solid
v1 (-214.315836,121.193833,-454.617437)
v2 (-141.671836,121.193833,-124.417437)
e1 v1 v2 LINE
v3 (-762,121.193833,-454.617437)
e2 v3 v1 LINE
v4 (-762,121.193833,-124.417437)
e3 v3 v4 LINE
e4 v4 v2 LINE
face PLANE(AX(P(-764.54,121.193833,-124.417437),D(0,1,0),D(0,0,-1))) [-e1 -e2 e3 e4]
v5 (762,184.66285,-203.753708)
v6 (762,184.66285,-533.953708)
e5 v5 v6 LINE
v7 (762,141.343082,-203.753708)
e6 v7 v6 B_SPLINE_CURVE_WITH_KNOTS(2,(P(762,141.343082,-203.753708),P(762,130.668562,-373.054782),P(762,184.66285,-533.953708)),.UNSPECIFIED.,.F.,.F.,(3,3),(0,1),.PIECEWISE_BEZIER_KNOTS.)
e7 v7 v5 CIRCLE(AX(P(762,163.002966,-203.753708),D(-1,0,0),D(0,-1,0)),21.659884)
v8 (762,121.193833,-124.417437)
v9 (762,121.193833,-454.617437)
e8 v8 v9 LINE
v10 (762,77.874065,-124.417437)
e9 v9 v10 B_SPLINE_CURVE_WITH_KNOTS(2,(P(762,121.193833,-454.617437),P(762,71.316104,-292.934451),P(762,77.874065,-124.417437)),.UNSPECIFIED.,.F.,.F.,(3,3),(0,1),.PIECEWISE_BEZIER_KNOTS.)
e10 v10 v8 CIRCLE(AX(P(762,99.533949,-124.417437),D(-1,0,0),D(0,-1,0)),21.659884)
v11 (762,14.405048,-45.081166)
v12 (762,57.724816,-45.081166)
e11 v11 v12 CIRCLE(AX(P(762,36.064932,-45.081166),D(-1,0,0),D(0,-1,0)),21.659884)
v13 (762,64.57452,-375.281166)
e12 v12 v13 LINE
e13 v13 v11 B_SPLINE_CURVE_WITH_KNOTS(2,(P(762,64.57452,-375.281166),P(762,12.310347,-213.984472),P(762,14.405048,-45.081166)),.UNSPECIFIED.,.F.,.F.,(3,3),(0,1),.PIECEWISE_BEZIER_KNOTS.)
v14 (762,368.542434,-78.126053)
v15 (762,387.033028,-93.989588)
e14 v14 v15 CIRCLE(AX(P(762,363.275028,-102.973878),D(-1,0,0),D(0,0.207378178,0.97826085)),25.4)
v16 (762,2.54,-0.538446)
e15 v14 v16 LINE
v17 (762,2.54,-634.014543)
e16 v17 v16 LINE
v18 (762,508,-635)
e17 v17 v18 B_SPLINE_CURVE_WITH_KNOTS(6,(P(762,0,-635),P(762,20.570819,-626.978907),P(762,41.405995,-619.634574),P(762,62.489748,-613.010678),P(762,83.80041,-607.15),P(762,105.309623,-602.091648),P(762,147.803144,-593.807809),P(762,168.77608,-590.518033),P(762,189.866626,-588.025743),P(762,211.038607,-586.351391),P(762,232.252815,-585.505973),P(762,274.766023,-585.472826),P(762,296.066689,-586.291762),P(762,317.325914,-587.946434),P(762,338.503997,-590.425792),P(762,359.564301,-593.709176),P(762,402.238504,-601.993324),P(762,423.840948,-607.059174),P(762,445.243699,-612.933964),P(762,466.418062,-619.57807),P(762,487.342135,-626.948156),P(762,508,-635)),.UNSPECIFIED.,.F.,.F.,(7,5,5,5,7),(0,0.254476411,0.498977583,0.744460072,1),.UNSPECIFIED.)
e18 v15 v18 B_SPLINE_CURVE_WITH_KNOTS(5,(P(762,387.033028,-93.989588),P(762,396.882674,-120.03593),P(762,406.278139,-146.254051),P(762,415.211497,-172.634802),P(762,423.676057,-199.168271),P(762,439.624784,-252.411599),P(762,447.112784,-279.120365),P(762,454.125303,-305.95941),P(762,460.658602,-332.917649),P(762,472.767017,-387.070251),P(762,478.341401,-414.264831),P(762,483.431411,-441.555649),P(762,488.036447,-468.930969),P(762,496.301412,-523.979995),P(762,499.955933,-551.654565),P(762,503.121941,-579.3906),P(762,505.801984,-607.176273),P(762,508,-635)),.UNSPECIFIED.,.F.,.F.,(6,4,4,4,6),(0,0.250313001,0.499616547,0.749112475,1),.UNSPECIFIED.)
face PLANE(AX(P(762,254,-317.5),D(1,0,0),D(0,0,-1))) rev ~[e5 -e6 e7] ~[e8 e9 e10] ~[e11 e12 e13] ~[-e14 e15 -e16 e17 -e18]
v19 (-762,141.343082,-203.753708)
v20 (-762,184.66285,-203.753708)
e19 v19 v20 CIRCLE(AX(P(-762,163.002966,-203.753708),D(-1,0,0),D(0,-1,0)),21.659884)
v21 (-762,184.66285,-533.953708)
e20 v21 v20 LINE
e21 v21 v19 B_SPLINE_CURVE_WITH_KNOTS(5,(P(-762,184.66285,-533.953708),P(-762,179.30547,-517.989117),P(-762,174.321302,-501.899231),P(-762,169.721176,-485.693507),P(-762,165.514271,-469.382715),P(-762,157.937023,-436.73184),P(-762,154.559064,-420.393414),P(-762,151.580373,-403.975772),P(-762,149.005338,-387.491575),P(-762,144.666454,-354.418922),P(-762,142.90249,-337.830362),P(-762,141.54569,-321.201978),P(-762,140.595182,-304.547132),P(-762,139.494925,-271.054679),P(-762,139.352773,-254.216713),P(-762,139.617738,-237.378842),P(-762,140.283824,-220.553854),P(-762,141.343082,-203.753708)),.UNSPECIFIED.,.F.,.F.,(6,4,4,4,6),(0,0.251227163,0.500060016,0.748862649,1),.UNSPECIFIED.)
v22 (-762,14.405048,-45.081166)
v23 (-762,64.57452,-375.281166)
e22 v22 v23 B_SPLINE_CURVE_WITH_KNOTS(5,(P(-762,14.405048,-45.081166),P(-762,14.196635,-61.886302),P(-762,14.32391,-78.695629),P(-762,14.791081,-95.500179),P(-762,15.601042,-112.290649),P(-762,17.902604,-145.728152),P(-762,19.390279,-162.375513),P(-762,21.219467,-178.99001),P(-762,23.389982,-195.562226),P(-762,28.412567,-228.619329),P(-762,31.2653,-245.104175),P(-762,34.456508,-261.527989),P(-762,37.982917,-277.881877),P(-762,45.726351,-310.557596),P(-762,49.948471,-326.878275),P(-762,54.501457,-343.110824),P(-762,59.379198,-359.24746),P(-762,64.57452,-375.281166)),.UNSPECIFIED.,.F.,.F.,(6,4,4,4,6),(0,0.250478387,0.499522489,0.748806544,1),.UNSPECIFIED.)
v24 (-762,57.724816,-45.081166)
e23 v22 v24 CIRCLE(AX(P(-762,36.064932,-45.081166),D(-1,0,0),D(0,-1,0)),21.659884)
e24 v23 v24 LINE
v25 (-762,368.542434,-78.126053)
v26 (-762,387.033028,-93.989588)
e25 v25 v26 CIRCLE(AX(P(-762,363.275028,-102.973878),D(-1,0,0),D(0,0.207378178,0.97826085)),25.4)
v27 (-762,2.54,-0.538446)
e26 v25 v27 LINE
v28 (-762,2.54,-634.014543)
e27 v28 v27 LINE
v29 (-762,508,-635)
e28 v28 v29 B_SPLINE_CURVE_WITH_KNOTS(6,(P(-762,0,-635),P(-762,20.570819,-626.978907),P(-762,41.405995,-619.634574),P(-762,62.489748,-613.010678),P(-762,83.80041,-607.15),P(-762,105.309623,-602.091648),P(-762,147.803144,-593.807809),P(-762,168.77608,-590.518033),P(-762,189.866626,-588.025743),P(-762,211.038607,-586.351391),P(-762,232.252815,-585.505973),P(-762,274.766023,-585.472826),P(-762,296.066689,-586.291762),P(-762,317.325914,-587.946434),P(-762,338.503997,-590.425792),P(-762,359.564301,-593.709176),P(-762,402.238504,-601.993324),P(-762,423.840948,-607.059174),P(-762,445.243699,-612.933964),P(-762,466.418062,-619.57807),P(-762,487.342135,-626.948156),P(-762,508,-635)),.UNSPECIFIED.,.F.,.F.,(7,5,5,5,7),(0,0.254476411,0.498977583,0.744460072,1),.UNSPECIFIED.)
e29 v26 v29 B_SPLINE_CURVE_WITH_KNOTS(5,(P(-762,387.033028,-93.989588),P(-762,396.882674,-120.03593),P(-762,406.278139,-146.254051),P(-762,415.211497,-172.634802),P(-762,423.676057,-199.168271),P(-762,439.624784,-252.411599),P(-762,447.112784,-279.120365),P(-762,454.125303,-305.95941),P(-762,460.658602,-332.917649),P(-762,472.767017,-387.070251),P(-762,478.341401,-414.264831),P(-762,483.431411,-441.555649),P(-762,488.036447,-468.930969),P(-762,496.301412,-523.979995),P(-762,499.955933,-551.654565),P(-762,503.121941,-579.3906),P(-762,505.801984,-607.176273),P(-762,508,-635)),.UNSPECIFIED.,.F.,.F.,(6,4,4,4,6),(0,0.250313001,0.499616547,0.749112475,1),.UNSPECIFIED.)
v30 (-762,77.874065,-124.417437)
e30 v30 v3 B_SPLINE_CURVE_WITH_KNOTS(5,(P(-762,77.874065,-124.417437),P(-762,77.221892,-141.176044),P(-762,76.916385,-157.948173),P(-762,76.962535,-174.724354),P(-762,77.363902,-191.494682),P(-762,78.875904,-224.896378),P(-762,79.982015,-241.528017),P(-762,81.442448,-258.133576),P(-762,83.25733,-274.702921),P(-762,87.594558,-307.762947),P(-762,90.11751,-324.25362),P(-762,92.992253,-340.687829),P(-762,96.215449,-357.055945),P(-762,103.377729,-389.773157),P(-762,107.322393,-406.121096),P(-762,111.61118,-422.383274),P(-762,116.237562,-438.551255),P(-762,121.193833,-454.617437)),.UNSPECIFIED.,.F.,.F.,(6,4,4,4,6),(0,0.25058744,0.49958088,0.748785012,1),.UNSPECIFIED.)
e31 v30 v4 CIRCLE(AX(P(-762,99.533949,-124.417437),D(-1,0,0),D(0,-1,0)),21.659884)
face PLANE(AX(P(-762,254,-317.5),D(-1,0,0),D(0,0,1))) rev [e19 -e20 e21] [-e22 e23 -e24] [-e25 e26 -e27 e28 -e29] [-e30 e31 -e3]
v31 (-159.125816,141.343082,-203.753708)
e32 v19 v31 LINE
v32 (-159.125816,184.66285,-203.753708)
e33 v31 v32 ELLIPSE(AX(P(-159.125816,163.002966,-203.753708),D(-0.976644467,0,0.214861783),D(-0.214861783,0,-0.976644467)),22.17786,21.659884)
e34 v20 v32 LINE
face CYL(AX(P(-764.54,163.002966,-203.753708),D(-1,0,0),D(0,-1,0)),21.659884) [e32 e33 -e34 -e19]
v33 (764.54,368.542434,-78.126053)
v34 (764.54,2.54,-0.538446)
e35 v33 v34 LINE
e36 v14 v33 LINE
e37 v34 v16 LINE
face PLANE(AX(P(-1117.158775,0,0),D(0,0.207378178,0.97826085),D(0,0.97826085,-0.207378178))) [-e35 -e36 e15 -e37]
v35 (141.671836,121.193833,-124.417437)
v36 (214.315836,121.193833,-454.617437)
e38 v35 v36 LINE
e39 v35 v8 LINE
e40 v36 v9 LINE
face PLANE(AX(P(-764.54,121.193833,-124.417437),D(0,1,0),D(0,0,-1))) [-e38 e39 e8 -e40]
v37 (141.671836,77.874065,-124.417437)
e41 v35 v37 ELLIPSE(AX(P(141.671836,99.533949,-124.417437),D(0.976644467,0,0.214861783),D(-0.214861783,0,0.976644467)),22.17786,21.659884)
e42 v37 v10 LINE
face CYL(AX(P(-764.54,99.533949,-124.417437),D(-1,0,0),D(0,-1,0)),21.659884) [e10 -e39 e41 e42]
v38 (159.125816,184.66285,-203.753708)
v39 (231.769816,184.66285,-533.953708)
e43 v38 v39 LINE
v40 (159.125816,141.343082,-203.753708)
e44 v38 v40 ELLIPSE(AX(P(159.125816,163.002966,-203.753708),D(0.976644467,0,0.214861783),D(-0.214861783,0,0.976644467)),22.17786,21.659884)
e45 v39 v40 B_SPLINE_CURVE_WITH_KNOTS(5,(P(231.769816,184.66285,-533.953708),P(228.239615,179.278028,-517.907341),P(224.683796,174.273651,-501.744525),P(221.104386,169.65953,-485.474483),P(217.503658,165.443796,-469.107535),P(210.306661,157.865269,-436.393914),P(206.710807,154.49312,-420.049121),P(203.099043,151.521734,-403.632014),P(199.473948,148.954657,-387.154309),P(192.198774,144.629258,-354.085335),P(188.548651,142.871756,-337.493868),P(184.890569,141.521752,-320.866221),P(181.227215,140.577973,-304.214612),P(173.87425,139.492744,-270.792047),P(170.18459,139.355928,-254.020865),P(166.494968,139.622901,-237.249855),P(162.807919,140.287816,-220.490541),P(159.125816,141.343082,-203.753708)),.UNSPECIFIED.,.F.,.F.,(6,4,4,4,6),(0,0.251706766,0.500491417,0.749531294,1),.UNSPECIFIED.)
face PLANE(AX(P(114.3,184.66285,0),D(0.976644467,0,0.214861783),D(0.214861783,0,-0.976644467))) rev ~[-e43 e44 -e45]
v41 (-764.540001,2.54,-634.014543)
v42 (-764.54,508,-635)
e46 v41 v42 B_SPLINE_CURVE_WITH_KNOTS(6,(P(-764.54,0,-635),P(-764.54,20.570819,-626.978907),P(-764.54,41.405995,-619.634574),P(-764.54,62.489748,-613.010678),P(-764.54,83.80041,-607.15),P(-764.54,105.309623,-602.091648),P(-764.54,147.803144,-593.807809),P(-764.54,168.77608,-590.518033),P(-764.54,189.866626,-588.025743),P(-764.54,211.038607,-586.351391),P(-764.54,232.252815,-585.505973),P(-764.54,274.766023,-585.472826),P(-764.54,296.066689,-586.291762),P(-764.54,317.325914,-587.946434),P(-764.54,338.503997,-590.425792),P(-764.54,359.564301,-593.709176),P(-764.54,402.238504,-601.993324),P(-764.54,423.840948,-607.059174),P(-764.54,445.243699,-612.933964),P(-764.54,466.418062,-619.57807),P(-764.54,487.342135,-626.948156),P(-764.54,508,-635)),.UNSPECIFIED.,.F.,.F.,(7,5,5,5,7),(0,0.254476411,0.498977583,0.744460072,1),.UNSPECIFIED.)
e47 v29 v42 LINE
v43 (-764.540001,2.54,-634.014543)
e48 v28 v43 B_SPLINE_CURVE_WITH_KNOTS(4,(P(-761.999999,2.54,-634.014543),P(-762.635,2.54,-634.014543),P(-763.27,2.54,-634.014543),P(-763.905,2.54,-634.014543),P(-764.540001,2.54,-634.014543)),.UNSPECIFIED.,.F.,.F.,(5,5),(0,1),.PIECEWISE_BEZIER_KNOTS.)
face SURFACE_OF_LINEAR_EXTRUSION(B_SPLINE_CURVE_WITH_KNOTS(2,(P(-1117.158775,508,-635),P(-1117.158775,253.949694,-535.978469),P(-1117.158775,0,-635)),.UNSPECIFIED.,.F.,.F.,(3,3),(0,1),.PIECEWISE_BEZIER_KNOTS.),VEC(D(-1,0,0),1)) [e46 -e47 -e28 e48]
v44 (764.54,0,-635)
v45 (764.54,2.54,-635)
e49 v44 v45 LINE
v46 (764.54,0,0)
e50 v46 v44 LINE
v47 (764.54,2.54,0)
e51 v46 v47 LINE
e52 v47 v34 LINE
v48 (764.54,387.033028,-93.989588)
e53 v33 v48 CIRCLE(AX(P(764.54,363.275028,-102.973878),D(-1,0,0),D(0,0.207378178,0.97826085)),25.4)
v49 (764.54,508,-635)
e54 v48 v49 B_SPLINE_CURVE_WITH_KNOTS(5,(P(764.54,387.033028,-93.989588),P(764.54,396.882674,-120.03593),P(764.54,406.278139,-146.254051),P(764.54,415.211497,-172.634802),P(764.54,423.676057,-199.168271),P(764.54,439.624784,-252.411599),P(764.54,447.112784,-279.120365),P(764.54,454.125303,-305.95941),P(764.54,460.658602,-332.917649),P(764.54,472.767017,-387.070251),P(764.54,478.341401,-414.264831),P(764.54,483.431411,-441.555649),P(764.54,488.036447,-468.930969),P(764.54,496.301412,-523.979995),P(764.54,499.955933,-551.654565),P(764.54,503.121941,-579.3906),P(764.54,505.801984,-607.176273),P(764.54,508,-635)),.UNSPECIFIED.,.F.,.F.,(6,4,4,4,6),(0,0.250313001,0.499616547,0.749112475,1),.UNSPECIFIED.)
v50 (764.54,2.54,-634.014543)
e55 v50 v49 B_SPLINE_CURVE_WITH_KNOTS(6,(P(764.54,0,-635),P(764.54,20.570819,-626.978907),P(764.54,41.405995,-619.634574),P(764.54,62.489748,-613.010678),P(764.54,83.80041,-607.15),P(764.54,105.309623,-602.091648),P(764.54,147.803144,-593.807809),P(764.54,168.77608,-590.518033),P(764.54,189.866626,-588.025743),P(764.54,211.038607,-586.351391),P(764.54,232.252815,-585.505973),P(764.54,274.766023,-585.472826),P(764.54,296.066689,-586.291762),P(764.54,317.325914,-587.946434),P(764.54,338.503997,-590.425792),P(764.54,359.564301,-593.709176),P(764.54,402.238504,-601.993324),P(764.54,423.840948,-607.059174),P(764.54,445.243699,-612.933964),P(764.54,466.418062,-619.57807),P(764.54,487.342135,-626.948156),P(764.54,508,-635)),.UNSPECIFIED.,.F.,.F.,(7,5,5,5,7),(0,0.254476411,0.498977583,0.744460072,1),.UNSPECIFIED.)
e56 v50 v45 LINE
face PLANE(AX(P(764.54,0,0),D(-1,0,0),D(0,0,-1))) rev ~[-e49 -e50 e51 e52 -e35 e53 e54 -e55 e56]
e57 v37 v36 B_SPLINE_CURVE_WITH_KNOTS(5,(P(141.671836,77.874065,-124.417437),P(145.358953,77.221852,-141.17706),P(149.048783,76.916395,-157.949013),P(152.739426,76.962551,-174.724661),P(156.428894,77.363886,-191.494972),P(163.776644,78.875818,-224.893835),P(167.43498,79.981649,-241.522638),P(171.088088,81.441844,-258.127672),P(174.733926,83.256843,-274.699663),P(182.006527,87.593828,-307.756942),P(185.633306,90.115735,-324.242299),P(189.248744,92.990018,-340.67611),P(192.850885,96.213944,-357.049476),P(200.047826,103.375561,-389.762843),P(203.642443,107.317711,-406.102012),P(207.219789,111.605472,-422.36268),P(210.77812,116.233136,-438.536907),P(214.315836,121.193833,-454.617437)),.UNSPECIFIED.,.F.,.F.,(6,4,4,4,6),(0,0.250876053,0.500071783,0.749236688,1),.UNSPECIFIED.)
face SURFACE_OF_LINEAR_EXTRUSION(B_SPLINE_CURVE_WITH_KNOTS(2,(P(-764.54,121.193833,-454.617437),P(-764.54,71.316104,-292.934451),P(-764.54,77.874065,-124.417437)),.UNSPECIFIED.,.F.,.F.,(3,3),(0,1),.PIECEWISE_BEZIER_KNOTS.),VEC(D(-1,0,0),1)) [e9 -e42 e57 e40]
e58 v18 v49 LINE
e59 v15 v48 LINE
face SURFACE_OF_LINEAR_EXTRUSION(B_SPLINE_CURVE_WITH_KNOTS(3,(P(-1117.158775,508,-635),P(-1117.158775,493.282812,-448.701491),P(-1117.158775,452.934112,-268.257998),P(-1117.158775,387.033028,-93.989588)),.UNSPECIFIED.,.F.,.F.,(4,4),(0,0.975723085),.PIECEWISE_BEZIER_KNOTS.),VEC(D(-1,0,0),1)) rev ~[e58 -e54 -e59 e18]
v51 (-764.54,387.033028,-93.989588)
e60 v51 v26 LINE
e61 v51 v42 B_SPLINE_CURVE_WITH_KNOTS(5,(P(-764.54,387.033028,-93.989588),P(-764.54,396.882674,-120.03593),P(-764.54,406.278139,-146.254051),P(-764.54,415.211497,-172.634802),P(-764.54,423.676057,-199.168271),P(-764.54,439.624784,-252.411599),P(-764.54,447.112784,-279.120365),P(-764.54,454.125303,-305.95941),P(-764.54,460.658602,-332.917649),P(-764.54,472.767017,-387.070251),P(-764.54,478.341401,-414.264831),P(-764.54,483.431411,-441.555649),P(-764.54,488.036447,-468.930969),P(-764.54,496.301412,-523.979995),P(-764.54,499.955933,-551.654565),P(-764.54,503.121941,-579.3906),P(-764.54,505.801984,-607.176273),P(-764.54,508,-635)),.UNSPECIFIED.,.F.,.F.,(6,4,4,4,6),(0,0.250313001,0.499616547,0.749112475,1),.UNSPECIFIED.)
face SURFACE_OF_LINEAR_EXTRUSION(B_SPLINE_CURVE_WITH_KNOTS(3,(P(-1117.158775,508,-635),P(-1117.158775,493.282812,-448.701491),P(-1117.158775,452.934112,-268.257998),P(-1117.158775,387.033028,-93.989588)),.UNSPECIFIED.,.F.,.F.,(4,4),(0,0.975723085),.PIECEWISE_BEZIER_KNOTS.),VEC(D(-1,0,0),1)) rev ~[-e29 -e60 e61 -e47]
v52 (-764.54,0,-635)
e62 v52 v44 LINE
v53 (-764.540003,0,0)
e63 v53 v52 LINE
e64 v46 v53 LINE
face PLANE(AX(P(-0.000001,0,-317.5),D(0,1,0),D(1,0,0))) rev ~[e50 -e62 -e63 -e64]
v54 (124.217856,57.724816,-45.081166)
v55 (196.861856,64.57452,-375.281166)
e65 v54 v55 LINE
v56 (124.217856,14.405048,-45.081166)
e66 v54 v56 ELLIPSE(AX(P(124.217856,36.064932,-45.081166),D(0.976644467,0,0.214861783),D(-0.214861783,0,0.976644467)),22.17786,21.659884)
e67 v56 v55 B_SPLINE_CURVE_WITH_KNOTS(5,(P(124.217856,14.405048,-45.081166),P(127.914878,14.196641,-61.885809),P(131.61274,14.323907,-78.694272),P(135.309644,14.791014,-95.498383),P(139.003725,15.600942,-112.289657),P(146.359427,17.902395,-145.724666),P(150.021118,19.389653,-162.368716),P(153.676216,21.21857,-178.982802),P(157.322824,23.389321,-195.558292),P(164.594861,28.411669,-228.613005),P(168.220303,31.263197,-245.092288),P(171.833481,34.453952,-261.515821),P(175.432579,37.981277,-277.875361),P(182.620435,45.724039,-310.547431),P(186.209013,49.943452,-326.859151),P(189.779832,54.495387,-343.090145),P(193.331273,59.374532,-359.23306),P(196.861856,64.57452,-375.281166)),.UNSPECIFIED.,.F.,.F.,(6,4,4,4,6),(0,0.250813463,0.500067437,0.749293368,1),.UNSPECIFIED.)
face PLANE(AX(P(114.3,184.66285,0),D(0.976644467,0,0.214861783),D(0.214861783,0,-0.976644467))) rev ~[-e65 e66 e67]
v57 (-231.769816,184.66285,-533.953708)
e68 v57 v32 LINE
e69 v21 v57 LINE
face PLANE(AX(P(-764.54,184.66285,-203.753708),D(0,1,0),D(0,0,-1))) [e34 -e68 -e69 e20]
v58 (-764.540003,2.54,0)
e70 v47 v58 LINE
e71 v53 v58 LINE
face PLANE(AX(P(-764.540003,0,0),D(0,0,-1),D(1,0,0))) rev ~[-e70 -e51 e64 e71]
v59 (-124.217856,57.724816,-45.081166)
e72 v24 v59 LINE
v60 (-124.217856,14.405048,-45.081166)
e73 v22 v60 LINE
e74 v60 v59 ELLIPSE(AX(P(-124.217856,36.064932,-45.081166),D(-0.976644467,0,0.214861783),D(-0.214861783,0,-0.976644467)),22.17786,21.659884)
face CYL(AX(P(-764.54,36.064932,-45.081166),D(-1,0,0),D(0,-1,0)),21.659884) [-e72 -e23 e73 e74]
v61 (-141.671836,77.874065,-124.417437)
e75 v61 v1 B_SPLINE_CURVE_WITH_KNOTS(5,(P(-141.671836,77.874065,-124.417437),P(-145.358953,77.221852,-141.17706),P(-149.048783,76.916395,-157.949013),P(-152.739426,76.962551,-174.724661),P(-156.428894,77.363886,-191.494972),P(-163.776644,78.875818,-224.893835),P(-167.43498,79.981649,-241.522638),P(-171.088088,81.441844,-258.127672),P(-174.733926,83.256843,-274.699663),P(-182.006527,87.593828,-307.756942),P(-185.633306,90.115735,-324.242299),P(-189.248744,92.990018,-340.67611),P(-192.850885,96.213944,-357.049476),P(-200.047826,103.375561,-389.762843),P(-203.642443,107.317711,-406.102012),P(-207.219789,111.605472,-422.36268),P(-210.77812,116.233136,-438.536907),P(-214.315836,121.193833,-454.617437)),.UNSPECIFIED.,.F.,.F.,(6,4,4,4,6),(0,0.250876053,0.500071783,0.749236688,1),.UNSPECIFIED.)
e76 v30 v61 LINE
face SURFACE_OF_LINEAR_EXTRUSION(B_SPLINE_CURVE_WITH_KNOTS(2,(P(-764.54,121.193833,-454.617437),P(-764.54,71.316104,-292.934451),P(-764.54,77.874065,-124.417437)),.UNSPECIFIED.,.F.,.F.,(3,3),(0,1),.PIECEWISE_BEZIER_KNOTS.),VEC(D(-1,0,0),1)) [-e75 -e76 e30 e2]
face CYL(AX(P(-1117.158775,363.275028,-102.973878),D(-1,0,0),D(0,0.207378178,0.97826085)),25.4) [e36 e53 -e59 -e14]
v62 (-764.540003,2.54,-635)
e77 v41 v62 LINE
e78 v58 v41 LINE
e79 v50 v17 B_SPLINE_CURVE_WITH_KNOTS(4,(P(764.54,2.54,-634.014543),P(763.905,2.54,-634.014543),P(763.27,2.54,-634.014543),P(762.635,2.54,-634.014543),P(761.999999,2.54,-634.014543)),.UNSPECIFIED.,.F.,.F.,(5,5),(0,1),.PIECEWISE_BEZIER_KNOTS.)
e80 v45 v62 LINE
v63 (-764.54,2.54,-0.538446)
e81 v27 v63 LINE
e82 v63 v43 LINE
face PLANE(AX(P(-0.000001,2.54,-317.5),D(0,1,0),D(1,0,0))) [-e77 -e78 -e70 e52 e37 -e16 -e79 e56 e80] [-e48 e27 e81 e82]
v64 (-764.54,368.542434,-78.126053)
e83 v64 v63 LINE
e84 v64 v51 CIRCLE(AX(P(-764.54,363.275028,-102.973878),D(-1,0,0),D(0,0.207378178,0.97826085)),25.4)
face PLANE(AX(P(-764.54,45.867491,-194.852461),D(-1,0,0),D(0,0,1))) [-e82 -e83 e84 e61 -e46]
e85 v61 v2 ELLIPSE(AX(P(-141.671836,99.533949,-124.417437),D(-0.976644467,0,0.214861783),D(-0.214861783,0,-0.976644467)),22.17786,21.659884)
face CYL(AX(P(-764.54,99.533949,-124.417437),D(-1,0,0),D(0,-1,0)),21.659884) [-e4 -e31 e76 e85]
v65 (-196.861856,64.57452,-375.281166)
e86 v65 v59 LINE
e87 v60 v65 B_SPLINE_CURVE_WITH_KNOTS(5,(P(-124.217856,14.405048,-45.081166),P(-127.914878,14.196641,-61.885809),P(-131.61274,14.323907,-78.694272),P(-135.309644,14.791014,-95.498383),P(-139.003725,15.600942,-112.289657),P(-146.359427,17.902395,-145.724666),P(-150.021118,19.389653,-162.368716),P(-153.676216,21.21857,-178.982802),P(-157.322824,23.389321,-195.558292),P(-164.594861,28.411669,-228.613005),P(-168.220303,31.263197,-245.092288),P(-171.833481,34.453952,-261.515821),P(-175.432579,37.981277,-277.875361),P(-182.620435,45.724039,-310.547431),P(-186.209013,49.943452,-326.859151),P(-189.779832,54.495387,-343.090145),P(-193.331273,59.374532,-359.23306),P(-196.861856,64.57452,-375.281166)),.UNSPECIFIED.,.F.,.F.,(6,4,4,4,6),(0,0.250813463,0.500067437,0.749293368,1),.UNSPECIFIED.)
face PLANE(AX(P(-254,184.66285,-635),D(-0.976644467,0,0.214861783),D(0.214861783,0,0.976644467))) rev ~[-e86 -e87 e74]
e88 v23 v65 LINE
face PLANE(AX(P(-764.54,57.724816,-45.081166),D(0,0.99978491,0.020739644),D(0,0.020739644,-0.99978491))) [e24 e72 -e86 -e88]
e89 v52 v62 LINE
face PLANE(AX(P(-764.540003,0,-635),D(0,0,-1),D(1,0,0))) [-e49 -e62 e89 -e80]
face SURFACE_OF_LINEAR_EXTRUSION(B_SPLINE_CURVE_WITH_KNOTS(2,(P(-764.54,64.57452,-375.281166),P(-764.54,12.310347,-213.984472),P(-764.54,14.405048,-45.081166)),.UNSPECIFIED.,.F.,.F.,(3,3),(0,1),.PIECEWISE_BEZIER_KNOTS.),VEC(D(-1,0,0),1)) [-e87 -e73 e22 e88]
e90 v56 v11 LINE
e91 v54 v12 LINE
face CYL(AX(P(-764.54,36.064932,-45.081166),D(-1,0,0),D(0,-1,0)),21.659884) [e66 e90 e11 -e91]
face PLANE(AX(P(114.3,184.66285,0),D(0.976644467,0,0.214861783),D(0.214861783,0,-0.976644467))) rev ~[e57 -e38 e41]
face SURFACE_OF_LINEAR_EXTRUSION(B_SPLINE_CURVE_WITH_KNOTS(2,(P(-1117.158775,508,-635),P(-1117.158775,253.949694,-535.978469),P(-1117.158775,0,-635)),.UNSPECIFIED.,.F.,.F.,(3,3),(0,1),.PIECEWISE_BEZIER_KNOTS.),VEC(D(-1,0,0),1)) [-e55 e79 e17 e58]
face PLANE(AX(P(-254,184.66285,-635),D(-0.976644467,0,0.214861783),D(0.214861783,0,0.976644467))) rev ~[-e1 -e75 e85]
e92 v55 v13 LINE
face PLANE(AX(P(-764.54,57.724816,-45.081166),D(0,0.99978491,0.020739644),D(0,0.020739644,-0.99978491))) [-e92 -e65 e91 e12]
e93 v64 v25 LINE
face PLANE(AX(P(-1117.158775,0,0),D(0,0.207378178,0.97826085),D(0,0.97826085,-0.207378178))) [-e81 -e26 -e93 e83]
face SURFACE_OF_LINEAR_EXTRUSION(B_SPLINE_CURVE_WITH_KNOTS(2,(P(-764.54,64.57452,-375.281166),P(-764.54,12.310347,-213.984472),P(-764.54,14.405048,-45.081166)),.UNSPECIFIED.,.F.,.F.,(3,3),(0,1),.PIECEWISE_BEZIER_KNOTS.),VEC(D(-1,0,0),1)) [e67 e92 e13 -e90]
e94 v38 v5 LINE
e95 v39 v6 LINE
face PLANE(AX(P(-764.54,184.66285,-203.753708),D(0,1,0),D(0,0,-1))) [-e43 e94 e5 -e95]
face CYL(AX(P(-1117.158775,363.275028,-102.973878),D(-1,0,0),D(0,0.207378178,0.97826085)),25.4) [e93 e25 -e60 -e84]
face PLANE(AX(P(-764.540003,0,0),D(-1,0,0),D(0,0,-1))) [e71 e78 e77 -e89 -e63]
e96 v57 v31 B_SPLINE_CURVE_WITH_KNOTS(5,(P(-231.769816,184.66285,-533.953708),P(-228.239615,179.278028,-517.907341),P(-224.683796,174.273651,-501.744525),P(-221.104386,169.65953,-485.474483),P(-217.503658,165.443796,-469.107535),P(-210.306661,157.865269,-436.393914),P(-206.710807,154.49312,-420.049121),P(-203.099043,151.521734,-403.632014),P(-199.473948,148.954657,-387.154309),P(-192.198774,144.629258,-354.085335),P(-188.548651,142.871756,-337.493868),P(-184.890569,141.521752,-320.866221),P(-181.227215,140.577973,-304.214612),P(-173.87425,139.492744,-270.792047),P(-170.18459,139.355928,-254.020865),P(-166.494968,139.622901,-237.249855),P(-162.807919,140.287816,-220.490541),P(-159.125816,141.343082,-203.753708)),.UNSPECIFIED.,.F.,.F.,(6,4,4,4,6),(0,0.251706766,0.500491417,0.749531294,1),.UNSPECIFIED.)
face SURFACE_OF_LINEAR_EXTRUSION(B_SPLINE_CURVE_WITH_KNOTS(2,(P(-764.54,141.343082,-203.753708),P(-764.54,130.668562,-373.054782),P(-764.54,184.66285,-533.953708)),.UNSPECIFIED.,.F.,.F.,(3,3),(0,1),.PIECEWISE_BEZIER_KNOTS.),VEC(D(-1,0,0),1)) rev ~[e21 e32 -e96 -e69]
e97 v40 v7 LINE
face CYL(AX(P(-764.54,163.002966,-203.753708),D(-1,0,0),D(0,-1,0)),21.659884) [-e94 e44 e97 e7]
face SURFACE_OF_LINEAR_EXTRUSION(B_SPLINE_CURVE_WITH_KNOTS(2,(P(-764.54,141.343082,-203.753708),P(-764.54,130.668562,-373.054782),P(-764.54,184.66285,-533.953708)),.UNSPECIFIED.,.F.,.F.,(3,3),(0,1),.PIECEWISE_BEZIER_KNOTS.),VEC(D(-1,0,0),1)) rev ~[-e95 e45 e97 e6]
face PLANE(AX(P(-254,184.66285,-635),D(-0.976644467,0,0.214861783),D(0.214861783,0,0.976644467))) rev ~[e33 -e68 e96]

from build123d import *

# Parameters (mm, degrees)
BOSS_EXTRUDE1_START      = 762
SKETCH1_W                = 635
SKETCH1_H                = 508
BOSS_EXTRUDE1_DEPTH      = 2.54
CUT_EXTRUDE1_DEPTH       = 1117.158775265
CUT_EXTRUDE1_DEPTH_BACK  = 1117.158775265
CUT_EXTRUDE2_DEPTH       = 1117.158775435
CUT_EXTRUDE2_DEPTH_BACK  = 1117.158775435
BOSS_EXTRUDE2_DEPTH      = 762
BOSS_EXTRUDE2_DEPTH_BACK = 764.54
SKETCH6_W                = 1529.0800025
SKETCH6_H                = 635
BOSS_EXTRUDE3_DEPTH      = 2.54
CUT_EXTRUDE3_DEPTH       = 182.122850144


with BuildPart() as part:
    # Sketch1 → Boss-Extrude1 (new body)
    with BuildSketch(Plane(origin=(0, 0, 0), x_dir=(0, 0, -1), z_dir=(1, 0, 0)).offset(BOSS_EXTRUDE1_START)):
        with Locations((317.5, 254)):
            Rectangle(SKETCH1_W, SKETCH1_H)
    extrude(amount=BOSS_EXTRUDE1_DEPTH)


with BuildPart() as body_2:
    # Mirror2: mirrored copy
    add(part.part.mirror(Plane(origin=(0, 0, 0), x_dir=(0, 0, 1), z_dir=(1, 0, 0))))


with BuildPart() as cut_extrude1_tool:
    # Sketch2 → Cut-Extrude1 (new, two sides: drawn at the far end of the back side and taken through both)
    with BuildSketch(Plane(origin=(0, 0, 0), x_dir=(0, 0, -1), z_dir=(1, 0, 0)).offset(-CUT_EXTRUDE1_DEPTH_BACK)):
        with BuildLine():
            Line((635, 508), (635, 0))
            add(Edge.make_bspline(
                [(635, 508), (535.978469305, 253.949693989), (635, 0)],
                knots=[0, 0, 0, 1, 1, 1], degree=2))
        make_face()
    extrude(amount=CUT_EXTRUDE1_DEPTH + CUT_EXTRUDE1_DEPTH_BACK)


with BuildPart() as part_1:
    add(part.part)

    # Cut-Extrude1: cut by cut_extrude1_tool
    add(cut_extrude1_tool.part, mode=Mode.SUBTRACT)


with BuildPart() as body_2_1:
    add(body_2.part)

    # Cut-Extrude1: cut by cut_extrude1_tool
    add(cut_extrude1_tool.part, mode=Mode.SUBTRACT)


with BuildPart() as cut_extrude2_tool:
    # Sketch3 → Cut-Extrude2 (new, two sides: drawn at the far end of the back side and taken through both)
    with BuildSketch(Plane(origin=(0, 0, 0), x_dir=(0, 0, -1), z_dir=(1, 0, 0)).offset(-CUT_EXTRUDE2_DEPTH_BACK)):
        with BuildLine():
            Line((0, 0), (78.126052631, 368.542434052))
            ThreePointArc((78.126052631, 368.542434052), (83.696209203, 379.813815366), (93.989588341, 387.033027713))
            add(Edge.make_bspline(
                [(635, 508), (448.701490757, 493.282812039), (268.257998273, 452.93411167), (93.989588341, 387.033027713)],
                knots=[0, 0, 0, 0, 0.975723085, 0.975723085, 0.975723085, 0.975723085], degree=3))
            Line((635, 508), (0, 508))
            Line((0, 508), (0, 0))
        make_face()
    extrude(amount=CUT_EXTRUDE2_DEPTH + CUT_EXTRUDE2_DEPTH_BACK)


with BuildPart() as part_2:
    add(part_1.part)

    # Cut-Extrude2: cut by cut_extrude2_tool
    add(cut_extrude2_tool.part, mode=Mode.SUBTRACT)



with BuildPart() as body_2_2:
    add(body_2_1.part)

    # Cut-Extrude2: cut by cut_extrude2_tool
    add(cut_extrude2_tool.part, mode=Mode.SUBTRACT)


with BuildPart() as part_3:
    add(part_2.part)

    add(body_2_2.part)  # Boss-Extrude2 merges body 2
    # Sketch4 → Boss-Extrude2 (add, two sides: drawn at the far end of the back side and taken through both)
    with BuildSketch(Plane(origin=(0, 0, 0), x_dir=(0, 0, -1), z_dir=(1, 0, 0)).offset(-BOSS_EXTRUDE2_DEPTH_BACK)):
        with BuildLine():
            Line((45.081165504, 57.724816481), (375.281165504, 64.574520115))
            add(Edge.make_bspline(
                [(375.281165504, 64.574520115), (213.984471731, 12.310346682), (45.081165504, 14.405048326)],
                knots=[0, 0, 0, 1, 1, 1], degree=2))
            ThreePointArc((45.081165504, 14.405048326), (23.421281427, 36.064932403), (45.081165504, 57.724816481))
        make_face()
        with BuildLine():
            Line((124.417436543, 121.193833312), (454.617436543, 121.193833312))
            add(Edge.make_bspline(
                [(454.617436543, 121.193833312), (292.934450552, 71.316103557), (124.417436543, 77.874065157)],
                knots=[0, 0, 0, 1, 1, 1], degree=2))
            ThreePointArc((124.417436543, 77.874065157), (102.757552466, 99.533949235), (124.417436543, 121.193833312))
        make_face()
        with BuildLine():
            Line((203.753707583, 184.662850144), (533.953707583, 184.662850144))
            add(Edge.make_bspline(
                [(203.753707583, 141.343081989), (373.054781607, 130.66856222), (533.953707583, 184.662850144)],
                knots=[0, 0, 0, 1, 1, 1], degree=2))
            ThreePointArc((203.753707583, 141.343081989), (182.093823506, 163.002966066), (203.753707583, 184.662850144))
        make_face()
    extrude(amount=BOSS_EXTRUDE2_DEPTH + BOSS_EXTRUDE2_DEPTH_BACK)

    # Sketch6 → Boss-Extrude3 (add)
    with BuildSketch(Plane(origin=(0, 0, 0), x_dir=(1, 0, 0), z_dir=(0, 1, 0))):
        with Locations((-1.25e-06, 317.5)):
            Rectangle(SKETCH6_W, SKETCH6_H)
    extrude(amount=BOSS_EXTRUDE3_DEPTH)

    # Sketch7 → Cut-Extrude3 (cut)
    with BuildSketch(Plane(origin=(0, 184.662850144, 0), x_dir=(1, 0, 0), z_dir=(0, 1, 0))):
        Polygon((-254, 635), (-114.3, 0), (114.3, 0), (254, 635), align=None)
    extrude(amount=-CUT_EXTRUDE3_DEPTH, mode=Mode.SUBTRACT)


solid = part_3.part
